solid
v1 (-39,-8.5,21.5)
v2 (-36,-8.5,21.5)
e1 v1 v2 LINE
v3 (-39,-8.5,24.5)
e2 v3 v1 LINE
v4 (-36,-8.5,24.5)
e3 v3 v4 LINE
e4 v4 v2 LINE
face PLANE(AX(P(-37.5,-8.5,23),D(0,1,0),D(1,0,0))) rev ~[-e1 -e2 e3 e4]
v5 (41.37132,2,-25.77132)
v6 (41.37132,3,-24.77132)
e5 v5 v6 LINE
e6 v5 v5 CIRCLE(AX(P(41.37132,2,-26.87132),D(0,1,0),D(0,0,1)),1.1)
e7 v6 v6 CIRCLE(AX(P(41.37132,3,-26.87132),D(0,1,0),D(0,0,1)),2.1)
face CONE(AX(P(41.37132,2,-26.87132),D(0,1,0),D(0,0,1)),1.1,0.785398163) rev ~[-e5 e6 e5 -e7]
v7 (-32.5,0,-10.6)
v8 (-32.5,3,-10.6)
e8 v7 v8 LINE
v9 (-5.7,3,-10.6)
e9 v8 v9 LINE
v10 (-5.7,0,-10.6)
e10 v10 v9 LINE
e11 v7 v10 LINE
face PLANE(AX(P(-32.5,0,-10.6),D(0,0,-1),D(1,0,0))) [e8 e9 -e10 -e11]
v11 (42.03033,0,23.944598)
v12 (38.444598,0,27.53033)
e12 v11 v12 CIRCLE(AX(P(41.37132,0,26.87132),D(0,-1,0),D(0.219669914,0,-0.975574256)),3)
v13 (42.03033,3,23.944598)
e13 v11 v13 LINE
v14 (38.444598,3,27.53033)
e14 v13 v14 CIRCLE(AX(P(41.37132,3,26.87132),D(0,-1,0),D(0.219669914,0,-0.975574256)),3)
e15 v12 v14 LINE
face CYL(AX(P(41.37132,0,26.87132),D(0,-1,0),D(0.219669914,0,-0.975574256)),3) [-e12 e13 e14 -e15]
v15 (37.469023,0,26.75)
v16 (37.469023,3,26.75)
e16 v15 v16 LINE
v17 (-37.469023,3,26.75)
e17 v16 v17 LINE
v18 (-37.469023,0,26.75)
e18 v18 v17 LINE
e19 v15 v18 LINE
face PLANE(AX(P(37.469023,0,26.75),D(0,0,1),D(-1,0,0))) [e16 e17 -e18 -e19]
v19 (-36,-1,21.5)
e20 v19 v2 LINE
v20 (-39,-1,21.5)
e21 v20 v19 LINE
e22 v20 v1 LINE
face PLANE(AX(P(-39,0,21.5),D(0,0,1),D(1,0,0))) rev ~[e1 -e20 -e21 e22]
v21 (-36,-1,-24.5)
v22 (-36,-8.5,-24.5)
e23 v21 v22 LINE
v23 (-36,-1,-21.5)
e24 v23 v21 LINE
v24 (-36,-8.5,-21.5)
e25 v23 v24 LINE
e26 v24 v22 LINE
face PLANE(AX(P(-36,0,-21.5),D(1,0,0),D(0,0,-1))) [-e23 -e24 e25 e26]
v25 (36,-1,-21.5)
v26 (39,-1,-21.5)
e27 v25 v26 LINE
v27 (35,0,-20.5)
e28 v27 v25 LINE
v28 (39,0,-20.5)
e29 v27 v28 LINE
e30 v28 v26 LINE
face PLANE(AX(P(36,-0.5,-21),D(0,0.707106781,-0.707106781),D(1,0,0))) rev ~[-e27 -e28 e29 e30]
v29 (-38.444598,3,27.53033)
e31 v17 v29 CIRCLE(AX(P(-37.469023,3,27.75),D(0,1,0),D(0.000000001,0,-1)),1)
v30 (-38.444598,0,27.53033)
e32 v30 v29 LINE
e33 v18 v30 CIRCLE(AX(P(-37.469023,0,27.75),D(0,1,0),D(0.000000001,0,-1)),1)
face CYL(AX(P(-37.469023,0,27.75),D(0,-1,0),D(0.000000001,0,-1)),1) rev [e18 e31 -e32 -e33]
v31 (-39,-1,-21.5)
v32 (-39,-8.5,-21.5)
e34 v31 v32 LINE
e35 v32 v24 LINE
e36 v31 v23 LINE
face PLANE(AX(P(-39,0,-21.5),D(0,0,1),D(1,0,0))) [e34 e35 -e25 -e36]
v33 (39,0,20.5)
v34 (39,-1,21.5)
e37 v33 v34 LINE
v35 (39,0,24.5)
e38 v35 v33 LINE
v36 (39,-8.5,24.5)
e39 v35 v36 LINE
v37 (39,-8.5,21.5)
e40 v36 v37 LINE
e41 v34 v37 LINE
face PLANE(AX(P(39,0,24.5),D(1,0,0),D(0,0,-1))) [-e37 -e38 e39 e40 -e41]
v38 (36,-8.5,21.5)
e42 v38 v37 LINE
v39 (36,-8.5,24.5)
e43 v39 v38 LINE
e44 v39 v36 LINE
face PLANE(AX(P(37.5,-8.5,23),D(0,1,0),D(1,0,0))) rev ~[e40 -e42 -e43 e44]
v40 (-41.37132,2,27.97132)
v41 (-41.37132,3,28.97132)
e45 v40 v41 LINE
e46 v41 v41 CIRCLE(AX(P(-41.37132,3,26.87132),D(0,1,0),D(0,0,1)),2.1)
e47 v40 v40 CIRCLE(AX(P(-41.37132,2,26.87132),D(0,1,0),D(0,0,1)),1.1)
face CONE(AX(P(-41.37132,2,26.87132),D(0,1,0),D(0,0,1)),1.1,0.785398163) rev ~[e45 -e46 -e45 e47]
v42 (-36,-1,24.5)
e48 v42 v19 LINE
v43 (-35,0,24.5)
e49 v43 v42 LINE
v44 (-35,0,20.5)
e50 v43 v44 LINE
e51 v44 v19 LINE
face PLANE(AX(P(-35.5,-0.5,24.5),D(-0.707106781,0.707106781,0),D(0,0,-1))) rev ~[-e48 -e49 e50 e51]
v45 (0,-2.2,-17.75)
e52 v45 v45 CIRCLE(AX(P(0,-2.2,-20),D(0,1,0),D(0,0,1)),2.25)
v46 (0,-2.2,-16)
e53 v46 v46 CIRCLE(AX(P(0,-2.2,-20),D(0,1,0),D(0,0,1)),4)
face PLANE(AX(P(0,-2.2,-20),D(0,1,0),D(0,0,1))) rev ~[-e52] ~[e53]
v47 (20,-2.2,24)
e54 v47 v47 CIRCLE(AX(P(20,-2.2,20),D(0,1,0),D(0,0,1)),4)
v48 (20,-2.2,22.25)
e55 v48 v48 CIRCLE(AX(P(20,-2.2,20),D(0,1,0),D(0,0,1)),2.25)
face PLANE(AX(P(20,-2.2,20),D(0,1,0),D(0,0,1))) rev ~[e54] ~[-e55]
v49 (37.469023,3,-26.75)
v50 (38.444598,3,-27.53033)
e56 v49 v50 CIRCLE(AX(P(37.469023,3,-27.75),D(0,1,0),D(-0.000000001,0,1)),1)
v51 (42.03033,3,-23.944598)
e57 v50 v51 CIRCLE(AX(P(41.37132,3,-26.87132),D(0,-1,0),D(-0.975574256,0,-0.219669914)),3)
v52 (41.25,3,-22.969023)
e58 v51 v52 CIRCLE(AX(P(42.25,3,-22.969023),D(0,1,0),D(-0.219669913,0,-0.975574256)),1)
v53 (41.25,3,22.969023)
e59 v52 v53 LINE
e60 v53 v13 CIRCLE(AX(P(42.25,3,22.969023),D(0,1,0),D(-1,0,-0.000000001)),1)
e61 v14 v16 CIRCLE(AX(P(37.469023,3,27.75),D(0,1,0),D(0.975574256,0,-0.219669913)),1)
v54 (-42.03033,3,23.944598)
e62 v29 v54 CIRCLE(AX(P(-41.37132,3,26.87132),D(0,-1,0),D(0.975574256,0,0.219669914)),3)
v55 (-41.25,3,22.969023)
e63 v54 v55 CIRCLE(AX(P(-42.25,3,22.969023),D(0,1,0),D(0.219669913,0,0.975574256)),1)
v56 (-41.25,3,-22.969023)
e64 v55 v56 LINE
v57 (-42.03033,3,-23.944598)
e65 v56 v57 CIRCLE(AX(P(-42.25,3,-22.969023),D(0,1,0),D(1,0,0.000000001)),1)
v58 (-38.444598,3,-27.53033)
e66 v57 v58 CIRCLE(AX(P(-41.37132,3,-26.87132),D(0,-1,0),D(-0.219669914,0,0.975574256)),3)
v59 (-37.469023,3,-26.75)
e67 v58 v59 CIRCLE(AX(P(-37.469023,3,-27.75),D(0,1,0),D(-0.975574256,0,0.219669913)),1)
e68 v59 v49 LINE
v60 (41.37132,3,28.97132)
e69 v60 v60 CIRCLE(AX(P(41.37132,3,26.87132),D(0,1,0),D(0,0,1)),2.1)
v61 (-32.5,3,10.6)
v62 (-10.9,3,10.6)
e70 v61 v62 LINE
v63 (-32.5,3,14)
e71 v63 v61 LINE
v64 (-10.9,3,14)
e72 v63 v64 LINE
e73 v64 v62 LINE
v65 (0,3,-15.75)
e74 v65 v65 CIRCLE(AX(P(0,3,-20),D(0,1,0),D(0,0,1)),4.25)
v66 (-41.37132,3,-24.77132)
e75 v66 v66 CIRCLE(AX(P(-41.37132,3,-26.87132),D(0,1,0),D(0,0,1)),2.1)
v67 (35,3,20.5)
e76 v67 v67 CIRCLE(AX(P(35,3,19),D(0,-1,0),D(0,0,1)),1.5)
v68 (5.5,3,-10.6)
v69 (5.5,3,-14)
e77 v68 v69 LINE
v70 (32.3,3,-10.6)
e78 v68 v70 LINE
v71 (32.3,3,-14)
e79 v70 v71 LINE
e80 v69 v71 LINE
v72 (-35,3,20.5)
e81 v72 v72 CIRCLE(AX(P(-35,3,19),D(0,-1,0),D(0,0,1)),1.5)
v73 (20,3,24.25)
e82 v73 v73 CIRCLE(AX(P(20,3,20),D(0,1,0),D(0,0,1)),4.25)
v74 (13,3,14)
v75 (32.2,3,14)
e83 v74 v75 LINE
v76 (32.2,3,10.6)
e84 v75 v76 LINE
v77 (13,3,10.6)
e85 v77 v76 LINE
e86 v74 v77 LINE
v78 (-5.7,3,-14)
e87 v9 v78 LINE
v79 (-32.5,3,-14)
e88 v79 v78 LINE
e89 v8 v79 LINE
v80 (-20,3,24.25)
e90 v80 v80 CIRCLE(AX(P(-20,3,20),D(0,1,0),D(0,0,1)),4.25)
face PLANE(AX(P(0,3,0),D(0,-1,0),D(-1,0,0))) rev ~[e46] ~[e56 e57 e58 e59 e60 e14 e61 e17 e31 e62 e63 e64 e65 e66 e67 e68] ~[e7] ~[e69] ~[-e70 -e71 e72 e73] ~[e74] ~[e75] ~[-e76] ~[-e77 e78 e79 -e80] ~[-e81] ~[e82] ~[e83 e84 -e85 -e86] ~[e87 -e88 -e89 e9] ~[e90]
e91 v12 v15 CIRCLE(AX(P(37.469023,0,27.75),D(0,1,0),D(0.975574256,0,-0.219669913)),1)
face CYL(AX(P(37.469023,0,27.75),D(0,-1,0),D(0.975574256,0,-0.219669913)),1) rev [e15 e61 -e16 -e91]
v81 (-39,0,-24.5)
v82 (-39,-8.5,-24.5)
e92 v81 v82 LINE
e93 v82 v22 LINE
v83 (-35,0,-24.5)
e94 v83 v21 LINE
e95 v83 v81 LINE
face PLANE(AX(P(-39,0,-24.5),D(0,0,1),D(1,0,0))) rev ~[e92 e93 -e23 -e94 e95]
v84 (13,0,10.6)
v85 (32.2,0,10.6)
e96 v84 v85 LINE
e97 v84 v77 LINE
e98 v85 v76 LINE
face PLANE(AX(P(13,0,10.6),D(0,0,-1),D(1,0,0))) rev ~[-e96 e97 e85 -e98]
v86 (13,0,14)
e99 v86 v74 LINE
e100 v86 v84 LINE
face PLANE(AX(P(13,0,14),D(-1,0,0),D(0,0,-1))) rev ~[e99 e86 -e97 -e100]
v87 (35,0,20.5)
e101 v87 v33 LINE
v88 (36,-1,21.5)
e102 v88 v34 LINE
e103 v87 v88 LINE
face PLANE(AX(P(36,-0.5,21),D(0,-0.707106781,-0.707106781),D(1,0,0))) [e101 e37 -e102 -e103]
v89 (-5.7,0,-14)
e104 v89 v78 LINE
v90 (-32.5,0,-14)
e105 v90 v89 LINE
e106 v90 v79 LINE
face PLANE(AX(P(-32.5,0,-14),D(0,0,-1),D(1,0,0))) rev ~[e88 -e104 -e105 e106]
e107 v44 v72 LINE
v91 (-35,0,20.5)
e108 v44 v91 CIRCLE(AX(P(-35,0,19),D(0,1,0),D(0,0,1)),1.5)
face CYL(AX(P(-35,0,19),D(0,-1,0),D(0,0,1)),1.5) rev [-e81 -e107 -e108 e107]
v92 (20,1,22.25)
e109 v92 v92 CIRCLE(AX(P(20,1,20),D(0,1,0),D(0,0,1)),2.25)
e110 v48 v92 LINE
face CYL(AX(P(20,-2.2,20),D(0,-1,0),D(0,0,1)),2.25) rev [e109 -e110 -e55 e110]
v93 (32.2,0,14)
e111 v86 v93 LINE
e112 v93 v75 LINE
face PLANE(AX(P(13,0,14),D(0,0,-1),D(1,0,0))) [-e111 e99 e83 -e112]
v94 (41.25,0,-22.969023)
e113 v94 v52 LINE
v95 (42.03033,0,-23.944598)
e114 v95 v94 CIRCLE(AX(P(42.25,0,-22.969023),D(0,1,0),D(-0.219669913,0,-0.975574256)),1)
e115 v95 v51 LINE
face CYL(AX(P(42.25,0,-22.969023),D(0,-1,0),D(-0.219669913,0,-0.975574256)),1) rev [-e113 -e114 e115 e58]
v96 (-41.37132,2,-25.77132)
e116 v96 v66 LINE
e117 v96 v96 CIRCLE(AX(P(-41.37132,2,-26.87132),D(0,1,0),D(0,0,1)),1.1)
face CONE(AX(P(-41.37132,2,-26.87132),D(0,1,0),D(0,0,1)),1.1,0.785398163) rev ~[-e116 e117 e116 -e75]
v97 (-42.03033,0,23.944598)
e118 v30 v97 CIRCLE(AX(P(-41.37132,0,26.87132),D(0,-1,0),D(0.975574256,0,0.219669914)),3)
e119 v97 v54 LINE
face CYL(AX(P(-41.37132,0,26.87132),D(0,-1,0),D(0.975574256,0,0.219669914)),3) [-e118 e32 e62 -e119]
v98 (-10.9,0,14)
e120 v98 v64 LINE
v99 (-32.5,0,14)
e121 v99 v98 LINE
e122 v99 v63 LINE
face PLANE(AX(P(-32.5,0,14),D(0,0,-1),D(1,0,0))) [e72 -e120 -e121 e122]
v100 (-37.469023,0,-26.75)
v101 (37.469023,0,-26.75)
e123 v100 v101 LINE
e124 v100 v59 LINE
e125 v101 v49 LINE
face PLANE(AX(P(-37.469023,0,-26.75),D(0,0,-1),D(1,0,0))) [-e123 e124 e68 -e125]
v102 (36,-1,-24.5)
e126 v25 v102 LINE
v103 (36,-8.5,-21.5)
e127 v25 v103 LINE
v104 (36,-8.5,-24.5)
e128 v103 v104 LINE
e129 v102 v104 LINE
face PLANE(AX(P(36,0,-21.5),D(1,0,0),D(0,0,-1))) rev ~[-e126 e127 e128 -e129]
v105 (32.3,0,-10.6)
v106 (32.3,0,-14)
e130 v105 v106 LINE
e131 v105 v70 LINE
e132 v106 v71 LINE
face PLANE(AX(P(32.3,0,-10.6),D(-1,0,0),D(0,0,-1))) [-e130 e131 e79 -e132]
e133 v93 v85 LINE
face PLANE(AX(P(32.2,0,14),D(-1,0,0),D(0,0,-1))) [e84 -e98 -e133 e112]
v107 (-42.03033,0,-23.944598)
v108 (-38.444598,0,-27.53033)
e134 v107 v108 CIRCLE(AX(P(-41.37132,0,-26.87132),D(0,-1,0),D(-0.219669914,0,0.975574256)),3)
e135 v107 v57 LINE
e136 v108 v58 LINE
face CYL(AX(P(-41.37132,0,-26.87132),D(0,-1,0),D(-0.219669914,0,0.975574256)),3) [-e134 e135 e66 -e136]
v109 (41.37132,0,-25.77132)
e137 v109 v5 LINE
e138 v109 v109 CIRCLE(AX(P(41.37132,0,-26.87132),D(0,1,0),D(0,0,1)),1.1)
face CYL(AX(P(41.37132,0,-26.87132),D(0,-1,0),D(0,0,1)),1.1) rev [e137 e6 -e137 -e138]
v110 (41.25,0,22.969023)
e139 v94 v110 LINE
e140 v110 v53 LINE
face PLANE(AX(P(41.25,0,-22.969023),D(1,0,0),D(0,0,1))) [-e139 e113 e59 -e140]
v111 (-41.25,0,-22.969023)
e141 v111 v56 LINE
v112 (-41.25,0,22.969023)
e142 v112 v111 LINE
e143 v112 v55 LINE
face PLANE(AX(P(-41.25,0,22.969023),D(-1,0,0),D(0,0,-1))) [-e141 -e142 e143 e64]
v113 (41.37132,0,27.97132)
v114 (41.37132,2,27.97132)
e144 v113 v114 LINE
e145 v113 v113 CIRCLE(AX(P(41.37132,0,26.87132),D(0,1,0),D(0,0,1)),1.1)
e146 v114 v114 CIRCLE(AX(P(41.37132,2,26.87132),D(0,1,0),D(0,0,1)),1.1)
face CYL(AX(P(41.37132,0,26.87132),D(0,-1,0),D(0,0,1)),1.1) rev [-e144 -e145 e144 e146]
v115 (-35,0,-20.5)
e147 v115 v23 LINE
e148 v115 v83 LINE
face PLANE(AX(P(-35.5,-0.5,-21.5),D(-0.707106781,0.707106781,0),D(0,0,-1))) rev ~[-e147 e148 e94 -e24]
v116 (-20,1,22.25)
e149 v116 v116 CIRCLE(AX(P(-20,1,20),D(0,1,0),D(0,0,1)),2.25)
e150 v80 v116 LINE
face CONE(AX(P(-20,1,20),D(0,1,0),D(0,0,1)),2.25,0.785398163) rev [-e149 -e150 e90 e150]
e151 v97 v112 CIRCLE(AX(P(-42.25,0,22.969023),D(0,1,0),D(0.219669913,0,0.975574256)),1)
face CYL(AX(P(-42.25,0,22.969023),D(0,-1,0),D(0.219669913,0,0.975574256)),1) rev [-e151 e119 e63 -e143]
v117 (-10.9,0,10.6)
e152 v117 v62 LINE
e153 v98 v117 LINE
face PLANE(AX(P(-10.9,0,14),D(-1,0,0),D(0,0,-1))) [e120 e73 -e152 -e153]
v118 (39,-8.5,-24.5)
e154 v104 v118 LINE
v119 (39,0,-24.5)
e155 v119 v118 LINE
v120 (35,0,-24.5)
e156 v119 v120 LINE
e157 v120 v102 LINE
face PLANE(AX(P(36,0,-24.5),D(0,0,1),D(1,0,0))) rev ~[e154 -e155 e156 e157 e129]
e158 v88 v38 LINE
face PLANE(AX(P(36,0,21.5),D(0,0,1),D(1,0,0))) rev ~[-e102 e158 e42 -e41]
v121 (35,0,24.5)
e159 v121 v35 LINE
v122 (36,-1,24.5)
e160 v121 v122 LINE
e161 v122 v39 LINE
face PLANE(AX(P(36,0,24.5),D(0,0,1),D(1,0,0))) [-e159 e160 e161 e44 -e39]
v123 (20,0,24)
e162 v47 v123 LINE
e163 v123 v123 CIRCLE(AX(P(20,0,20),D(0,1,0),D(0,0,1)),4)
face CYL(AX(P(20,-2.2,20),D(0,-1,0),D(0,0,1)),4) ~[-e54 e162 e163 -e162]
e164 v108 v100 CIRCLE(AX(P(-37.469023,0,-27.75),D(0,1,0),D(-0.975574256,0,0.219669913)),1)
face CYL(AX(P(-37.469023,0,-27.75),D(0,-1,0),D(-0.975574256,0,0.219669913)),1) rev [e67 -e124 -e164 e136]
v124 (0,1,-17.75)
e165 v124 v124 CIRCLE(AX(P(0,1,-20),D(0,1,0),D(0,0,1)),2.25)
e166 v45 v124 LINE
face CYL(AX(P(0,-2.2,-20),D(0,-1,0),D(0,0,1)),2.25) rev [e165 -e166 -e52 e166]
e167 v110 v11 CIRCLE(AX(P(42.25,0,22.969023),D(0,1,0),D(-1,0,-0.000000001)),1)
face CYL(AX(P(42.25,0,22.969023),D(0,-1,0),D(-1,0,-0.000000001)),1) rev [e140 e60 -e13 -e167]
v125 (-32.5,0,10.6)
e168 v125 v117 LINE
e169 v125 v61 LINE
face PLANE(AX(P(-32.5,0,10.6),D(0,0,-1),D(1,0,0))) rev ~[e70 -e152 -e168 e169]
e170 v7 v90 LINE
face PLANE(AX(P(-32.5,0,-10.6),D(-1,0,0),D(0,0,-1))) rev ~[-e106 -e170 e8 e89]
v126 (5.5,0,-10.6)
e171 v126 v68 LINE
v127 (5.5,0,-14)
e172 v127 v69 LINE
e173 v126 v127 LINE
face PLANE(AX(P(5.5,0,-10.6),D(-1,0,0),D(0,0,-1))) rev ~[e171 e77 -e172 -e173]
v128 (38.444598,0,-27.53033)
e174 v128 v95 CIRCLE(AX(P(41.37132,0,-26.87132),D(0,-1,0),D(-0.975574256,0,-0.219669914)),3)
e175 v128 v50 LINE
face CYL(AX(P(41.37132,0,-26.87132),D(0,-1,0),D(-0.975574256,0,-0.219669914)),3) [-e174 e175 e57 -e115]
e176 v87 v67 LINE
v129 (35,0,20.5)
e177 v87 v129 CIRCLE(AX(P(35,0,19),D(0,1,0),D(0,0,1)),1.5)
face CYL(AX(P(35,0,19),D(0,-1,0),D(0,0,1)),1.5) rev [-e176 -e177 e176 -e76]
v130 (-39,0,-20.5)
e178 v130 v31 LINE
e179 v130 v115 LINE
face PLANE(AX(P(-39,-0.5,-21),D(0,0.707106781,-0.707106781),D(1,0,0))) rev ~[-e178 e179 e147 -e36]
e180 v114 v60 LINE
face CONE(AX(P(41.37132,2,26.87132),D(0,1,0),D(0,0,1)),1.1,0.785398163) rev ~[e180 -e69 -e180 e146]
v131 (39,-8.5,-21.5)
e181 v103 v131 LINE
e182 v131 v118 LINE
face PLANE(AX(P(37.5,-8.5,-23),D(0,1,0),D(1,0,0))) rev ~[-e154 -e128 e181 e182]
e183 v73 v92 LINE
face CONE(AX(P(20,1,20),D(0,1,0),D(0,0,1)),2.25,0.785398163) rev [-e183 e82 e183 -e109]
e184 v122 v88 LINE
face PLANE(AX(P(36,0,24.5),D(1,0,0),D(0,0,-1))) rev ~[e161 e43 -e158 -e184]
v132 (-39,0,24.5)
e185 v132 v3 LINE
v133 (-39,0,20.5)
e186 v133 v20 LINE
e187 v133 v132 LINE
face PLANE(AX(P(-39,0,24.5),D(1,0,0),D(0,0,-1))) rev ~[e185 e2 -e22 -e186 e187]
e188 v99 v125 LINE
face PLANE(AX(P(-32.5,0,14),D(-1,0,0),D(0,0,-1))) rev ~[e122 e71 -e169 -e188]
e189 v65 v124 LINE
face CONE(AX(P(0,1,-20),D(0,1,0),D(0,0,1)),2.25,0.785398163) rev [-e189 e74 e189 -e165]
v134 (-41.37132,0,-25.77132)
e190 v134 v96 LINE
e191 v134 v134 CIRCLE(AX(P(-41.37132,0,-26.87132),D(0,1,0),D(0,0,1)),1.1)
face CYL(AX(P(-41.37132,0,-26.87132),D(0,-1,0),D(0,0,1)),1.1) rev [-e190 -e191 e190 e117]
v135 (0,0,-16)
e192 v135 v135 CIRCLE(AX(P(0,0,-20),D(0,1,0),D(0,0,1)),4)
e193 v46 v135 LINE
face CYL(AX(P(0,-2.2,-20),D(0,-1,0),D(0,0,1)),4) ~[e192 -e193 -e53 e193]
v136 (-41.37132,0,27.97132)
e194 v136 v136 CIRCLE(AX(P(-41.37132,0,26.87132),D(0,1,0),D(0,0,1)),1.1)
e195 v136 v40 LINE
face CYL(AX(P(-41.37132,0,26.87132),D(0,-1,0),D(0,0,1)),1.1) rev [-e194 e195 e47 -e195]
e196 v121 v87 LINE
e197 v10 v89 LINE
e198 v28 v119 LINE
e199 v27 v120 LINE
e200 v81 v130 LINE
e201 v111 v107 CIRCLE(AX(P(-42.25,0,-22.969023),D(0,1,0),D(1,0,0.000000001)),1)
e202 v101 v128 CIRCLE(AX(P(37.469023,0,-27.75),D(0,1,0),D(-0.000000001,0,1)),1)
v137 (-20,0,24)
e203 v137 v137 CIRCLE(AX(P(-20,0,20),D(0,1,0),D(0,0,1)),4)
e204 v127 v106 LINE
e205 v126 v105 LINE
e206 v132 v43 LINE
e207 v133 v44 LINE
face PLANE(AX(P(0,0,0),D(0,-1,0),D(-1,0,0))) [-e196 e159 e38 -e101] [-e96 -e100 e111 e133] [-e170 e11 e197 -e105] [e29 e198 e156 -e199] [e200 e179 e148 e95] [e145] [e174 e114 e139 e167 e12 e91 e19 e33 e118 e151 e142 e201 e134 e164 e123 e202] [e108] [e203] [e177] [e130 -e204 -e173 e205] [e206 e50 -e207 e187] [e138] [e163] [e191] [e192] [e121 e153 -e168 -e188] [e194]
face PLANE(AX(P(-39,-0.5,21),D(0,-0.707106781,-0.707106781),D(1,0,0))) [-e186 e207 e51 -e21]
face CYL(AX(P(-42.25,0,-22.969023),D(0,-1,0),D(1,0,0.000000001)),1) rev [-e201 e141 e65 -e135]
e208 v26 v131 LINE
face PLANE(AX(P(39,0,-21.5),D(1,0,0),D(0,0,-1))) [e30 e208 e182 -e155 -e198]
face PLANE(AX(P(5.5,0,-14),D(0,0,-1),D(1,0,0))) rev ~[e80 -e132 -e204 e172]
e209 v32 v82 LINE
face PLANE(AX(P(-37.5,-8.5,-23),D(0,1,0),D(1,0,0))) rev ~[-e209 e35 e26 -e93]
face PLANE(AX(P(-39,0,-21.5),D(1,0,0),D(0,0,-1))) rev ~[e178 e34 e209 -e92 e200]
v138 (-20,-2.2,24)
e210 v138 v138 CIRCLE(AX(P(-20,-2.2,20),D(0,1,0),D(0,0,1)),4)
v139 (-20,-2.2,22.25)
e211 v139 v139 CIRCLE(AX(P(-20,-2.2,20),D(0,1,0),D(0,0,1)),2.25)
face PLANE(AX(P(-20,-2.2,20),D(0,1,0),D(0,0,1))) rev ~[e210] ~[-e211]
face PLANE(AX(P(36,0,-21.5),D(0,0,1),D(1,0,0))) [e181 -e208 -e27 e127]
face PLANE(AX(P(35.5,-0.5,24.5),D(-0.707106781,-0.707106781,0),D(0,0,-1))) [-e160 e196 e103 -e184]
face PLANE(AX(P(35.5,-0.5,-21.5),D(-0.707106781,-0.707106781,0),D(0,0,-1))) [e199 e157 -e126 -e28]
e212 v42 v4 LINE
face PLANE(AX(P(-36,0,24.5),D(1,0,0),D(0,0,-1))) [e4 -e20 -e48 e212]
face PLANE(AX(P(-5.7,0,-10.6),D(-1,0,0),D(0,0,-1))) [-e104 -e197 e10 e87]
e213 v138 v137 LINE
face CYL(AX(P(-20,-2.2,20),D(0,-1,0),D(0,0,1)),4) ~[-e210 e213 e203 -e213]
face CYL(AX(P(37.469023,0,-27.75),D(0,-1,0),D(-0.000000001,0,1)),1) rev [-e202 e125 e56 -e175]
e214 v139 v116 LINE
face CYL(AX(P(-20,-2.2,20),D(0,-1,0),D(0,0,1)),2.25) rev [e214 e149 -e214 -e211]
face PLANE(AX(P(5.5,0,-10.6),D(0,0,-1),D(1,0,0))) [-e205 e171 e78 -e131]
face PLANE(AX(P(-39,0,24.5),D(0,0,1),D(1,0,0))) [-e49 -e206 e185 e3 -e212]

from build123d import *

# Parameters (mm, degrees)
SKETCH_2_R          = 1.1
SKETCH_2_R_2        = 2.25
SKETCH_2_W          = 25.8
SKETCH_2_H          = 2.4
SKETCH_2_W_2        = 20.6
SKETCH_2_W_3        = 18.2
EXTRUDE_1_DEPTH     = 3
CHAMFER_1_SIZE      = 1
SKETCH_3_W          = 26.8
SKETCH_3_H          = 3.4
SKETCH_3_W_2        = 19.2
SKETCH_3_W_3        = 21.6
CUT_EXTRUDE_1_DEPTH = 54.573406165
CHAMFER_2_SIZE      = 2
EXTRUDE_START       = -2.2
SKETCH_4_R          = 4
SKETCH_4_R_2        = 2.25
EXTRUDE_2_DEPTH     = 2.2
SKETCH_5_W          = 3
SKETCH_5_H          = 3
EXTRUDE_3_DEPTH     = 8.5
CHAMFER_3_SIZE      = 1
SKETCH_6_R          = 1.5
CUT_EXTRUDE_2_DEPTH = 55.160500811


with BuildPart() as part:
    # 草图2 → 凸台-拉伸1 (new body)
    with BuildSketch(Plane(origin=(0, 0, 0), x_dir=(1, 0, 0), z_dir=(0, 1, 0))):
        with BuildLine():
            Line((37.46902332, -26.75), (-37.46902332, -26.75))
            ThreePointArc((-37.46902332, -26.75), (-38.093655246, -26.969080697), (-38.444597576, -27.530330086))
            ThreePointArc((-38.444597576, -27.530330086), (-43.492640687, -28.992640687), (-42.030330086, -23.944597576))
            ThreePointArc((-42.030330086, -23.944597576), (-41.469080697, -23.593655246), (-41.25, -22.96902332))
            Line((-41.25, -22.96902332), (-41.25, 22.96902332))
            ThreePointArc((-41.25, 22.96902332), (-41.469080697, 23.593655246), (-42.030330086, 23.944597576))
            ThreePointArc((-42.030330086, 23.944597576), (-43.492640687, 28.992640687), (-38.444597576, 27.530330086))
            ThreePointArc((-38.444597576, 27.530330086), (-38.093655246, 26.969080697), (-37.46902332, 26.75))
            Line((-37.46902332, 26.75), (37.46902332, 26.75))
            ThreePointArc((37.46902332, 26.75), (38.093655246, 26.969080697), (38.444597576, 27.530330086))
            ThreePointArc((38.444597576, 27.530330086), (43.492640687, 28.992640687), (42.030330086, 23.944597576))
            ThreePointArc((42.030330086, 23.944597576), (41.469080697, 23.593655246), (41.25, 22.96902332))
            Line((41.25, 22.96902332), (41.25, -22.96902332))
            ThreePointArc((41.25, -22.96902332), (41.469080697, -23.593655246), (42.030330086, -23.944597576))
            ThreePointArc((42.030330086, -23.944597576), (43.492640687, -28.992640687), (38.444597576, -27.530330086))
            ThreePointArc((38.444597576, -27.530330086), (38.093655246, -26.969080697), (37.46902332, -26.75))
        make_face()
        with Locations(Location((-41.371320344, 26.871320344, 0), (0, 0, 270))):
            Circle(SKETCH_2_R, mode=Mode.SUBTRACT)
        with Locations(Location((-41.371320344, -26.871320344, 0), (0, 0, 270))):
            Circle(SKETCH_2_R, mode=Mode.SUBTRACT)
        with Locations(Location((41.371320344, -26.871320344, 0), (0, 0, 270))):
            Circle(SKETCH_2_R, mode=Mode.SUBTRACT)
        with Locations(Location((41.371320344, 26.871320344, 0), (0, 0, 270))):
            Circle(SKETCH_2_R, mode=Mode.SUBTRACT)
        with Locations(Location((0, 20, 0), (0, 0, 270))):
            Circle(SKETCH_2_R_2, mode=Mode.SUBTRACT)
        with Locations(Location((-20, -20, 0), (0, 0, 270))):
            Circle(SKETCH_2_R_2, mode=Mode.SUBTRACT)
        with Locations(Location((20, -20, 0), (0, 0, 270))):
            Circle(SKETCH_2_R_2, mode=Mode.SUBTRACT)
        with Locations((-19.1, 12.3)):
            Rectangle(SKETCH_2_W, SKETCH_2_H, mode=Mode.SUBTRACT)
        with Locations((18.9, 12.3)):
            Rectangle(SKETCH_2_W, SKETCH_2_H, mode=Mode.SUBTRACT)
        with Locations((-21.7, -12.3)):
            Rectangle(SKETCH_2_W_2, SKETCH_2_H, mode=Mode.SUBTRACT)
        with Locations((22.6, -12.3)):
            Rectangle(SKETCH_2_W_3, SKETCH_2_H, mode=Mode.SUBTRACT)
    extrude(amount=EXTRUDE_1_DEPTH)

    # 倒角1
    chamfer_1_edges = [part.edges().sort_by_distance(p)[0] for p in [
        (-41.371320344, 3, -27.971320344),
        (-41.371320344, 3, 25.771320344),
        (41.371320344, 3, 25.771320344),
        (41.371320344, 3, -27.971320344),
    ]]
    chamfer(chamfer_1_edges, length=CHAMFER_1_SIZE)

    # 草图3 → 切除-拉伸1 (cut, through all)
    with BuildSketch(Plane(origin=(0, 0, 0), x_dir=(1, 0, 0), z_dir=(0, 1, 0))):
        with Locations((-19.1, 12.3)):
            Rectangle(SKETCH_3_W, SKETCH_3_H)
        with Locations((18.9, 12.3)):
            Rectangle(SKETCH_3_W, SKETCH_3_H)
        with Locations((22.6, -12.3)):
            Rectangle(SKETCH_3_W_2, SKETCH_3_H)
        with Locations((-21.7, -12.3)):
            Rectangle(SKETCH_3_W_3, SKETCH_3_H)
    extrude(amount=CUT_EXTRUDE_1_DEPTH, mode=Mode.SUBTRACT)

    # 倒角2
    chamfer_2_edges = [part.edges().sort_by_distance(p)[0] for p in [
        (0, 3, -22.25),
        (-20, 3, 17.75),
        (20, 3, 17.75),
    ]]
    chamfer(chamfer_2_edges, length=CHAMFER_2_SIZE)

    # 草图4 → 凸台-拉伸2 (add)
    # profile 1 of 3: a face of its own
    with BuildSketch(Plane(origin=(0, 0, 0), x_dir=(1, 0, 0), z_dir=(0, 1, 0)).offset(EXTRUDE_START)):
        with Locations(Location((-20, -20, 0), (0, 0, 270))):
            Circle(SKETCH_4_R)
        with Locations(Location((-20, -20, 0), (0, 0, 270))):
            Circle(SKETCH_4_R_2, mode=Mode.SUBTRACT)
    # profile 2 of 3: a face of its own
    with BuildSketch(Plane(origin=(0, 0, 0), x_dir=(1, 0, 0), z_dir=(0, 1, 0)).offset(EXTRUDE_START)):
        with Locations(Location((20, -20, 0), (0, 0, 270))):
            Circle(SKETCH_4_R)
        with Locations(Location((20, -20, 0), (0, 0, 270))):
            Circle(SKETCH_4_R_2, mode=Mode.SUBTRACT)
    # profile 3 of 3: a face of its own
    with BuildSketch(Plane(origin=(0, 0, 0), x_dir=(1, 0, 0), z_dir=(0, 1, 0)).offset(EXTRUDE_START)):
        with Locations(Location((0, 20, 0), (0, 0, 270))):
            Circle(SKETCH_4_R)
        with Locations(Location((0, 20, 0), (0, 0, 270))):
            Circle(SKETCH_4_R_2, mode=Mode.SUBTRACT)
    extrude(amount=EXTRUDE_2_DEPTH)

    # 草图5 → 凸台-拉伸3 (add)
    with BuildSketch(Plane(origin=(0, 0, 0), x_dir=(1, 0, 0), z_dir=(0, 1, 0))):
        with Locations((37.5, 23)):
            Rectangle(SKETCH_5_W, SKETCH_5_H)
        with Locations((-37.5, 23)):
            Rectangle(SKETCH_5_W, SKETCH_5_H)
        with Locations((37.5, -23)):
            Rectangle(SKETCH_5_W, SKETCH_5_H)
        with Locations((-37.5, -23)):
            Rectangle(SKETCH_5_W, SKETCH_5_H)
    extrude(amount=-EXTRUDE_3_DEPTH)

    # 倒角3
    chamfer_3_edges = [part.edges().sort_by_distance(p)[0] for p in [
        (-37.5, 0, -21.5),
        (-36, 0, -23),
        (36, 0, -23),
        (37.5, 0, -21.5),
        (37.5, 0, 21.5),
        (36, 0, 23),
        (-36, 0, 23),
        (-37.5, 0, 21.5),
    ]]
    chamfer(chamfer_3_edges, length=CHAMFER_3_SIZE)

    # 草图6 → 切除-拉伸2 (cut, through all)
    with BuildSketch(Plane(origin=(0, 0, 0), x_dir=(1, 0, 0), z_dir=(0, 1, 0))):
        with Locations(Location((-35, -19, 0), (0, 0, 270))):
            Circle(SKETCH_6_R)
        with Locations(Location((35, -19, 0), (0, 0, 270))):
            Circle(SKETCH_6_R)
    extrude(amount=CUT_EXTRUDE_2_DEPTH, mode=Mode.SUBTRACT)


solid = part.part
